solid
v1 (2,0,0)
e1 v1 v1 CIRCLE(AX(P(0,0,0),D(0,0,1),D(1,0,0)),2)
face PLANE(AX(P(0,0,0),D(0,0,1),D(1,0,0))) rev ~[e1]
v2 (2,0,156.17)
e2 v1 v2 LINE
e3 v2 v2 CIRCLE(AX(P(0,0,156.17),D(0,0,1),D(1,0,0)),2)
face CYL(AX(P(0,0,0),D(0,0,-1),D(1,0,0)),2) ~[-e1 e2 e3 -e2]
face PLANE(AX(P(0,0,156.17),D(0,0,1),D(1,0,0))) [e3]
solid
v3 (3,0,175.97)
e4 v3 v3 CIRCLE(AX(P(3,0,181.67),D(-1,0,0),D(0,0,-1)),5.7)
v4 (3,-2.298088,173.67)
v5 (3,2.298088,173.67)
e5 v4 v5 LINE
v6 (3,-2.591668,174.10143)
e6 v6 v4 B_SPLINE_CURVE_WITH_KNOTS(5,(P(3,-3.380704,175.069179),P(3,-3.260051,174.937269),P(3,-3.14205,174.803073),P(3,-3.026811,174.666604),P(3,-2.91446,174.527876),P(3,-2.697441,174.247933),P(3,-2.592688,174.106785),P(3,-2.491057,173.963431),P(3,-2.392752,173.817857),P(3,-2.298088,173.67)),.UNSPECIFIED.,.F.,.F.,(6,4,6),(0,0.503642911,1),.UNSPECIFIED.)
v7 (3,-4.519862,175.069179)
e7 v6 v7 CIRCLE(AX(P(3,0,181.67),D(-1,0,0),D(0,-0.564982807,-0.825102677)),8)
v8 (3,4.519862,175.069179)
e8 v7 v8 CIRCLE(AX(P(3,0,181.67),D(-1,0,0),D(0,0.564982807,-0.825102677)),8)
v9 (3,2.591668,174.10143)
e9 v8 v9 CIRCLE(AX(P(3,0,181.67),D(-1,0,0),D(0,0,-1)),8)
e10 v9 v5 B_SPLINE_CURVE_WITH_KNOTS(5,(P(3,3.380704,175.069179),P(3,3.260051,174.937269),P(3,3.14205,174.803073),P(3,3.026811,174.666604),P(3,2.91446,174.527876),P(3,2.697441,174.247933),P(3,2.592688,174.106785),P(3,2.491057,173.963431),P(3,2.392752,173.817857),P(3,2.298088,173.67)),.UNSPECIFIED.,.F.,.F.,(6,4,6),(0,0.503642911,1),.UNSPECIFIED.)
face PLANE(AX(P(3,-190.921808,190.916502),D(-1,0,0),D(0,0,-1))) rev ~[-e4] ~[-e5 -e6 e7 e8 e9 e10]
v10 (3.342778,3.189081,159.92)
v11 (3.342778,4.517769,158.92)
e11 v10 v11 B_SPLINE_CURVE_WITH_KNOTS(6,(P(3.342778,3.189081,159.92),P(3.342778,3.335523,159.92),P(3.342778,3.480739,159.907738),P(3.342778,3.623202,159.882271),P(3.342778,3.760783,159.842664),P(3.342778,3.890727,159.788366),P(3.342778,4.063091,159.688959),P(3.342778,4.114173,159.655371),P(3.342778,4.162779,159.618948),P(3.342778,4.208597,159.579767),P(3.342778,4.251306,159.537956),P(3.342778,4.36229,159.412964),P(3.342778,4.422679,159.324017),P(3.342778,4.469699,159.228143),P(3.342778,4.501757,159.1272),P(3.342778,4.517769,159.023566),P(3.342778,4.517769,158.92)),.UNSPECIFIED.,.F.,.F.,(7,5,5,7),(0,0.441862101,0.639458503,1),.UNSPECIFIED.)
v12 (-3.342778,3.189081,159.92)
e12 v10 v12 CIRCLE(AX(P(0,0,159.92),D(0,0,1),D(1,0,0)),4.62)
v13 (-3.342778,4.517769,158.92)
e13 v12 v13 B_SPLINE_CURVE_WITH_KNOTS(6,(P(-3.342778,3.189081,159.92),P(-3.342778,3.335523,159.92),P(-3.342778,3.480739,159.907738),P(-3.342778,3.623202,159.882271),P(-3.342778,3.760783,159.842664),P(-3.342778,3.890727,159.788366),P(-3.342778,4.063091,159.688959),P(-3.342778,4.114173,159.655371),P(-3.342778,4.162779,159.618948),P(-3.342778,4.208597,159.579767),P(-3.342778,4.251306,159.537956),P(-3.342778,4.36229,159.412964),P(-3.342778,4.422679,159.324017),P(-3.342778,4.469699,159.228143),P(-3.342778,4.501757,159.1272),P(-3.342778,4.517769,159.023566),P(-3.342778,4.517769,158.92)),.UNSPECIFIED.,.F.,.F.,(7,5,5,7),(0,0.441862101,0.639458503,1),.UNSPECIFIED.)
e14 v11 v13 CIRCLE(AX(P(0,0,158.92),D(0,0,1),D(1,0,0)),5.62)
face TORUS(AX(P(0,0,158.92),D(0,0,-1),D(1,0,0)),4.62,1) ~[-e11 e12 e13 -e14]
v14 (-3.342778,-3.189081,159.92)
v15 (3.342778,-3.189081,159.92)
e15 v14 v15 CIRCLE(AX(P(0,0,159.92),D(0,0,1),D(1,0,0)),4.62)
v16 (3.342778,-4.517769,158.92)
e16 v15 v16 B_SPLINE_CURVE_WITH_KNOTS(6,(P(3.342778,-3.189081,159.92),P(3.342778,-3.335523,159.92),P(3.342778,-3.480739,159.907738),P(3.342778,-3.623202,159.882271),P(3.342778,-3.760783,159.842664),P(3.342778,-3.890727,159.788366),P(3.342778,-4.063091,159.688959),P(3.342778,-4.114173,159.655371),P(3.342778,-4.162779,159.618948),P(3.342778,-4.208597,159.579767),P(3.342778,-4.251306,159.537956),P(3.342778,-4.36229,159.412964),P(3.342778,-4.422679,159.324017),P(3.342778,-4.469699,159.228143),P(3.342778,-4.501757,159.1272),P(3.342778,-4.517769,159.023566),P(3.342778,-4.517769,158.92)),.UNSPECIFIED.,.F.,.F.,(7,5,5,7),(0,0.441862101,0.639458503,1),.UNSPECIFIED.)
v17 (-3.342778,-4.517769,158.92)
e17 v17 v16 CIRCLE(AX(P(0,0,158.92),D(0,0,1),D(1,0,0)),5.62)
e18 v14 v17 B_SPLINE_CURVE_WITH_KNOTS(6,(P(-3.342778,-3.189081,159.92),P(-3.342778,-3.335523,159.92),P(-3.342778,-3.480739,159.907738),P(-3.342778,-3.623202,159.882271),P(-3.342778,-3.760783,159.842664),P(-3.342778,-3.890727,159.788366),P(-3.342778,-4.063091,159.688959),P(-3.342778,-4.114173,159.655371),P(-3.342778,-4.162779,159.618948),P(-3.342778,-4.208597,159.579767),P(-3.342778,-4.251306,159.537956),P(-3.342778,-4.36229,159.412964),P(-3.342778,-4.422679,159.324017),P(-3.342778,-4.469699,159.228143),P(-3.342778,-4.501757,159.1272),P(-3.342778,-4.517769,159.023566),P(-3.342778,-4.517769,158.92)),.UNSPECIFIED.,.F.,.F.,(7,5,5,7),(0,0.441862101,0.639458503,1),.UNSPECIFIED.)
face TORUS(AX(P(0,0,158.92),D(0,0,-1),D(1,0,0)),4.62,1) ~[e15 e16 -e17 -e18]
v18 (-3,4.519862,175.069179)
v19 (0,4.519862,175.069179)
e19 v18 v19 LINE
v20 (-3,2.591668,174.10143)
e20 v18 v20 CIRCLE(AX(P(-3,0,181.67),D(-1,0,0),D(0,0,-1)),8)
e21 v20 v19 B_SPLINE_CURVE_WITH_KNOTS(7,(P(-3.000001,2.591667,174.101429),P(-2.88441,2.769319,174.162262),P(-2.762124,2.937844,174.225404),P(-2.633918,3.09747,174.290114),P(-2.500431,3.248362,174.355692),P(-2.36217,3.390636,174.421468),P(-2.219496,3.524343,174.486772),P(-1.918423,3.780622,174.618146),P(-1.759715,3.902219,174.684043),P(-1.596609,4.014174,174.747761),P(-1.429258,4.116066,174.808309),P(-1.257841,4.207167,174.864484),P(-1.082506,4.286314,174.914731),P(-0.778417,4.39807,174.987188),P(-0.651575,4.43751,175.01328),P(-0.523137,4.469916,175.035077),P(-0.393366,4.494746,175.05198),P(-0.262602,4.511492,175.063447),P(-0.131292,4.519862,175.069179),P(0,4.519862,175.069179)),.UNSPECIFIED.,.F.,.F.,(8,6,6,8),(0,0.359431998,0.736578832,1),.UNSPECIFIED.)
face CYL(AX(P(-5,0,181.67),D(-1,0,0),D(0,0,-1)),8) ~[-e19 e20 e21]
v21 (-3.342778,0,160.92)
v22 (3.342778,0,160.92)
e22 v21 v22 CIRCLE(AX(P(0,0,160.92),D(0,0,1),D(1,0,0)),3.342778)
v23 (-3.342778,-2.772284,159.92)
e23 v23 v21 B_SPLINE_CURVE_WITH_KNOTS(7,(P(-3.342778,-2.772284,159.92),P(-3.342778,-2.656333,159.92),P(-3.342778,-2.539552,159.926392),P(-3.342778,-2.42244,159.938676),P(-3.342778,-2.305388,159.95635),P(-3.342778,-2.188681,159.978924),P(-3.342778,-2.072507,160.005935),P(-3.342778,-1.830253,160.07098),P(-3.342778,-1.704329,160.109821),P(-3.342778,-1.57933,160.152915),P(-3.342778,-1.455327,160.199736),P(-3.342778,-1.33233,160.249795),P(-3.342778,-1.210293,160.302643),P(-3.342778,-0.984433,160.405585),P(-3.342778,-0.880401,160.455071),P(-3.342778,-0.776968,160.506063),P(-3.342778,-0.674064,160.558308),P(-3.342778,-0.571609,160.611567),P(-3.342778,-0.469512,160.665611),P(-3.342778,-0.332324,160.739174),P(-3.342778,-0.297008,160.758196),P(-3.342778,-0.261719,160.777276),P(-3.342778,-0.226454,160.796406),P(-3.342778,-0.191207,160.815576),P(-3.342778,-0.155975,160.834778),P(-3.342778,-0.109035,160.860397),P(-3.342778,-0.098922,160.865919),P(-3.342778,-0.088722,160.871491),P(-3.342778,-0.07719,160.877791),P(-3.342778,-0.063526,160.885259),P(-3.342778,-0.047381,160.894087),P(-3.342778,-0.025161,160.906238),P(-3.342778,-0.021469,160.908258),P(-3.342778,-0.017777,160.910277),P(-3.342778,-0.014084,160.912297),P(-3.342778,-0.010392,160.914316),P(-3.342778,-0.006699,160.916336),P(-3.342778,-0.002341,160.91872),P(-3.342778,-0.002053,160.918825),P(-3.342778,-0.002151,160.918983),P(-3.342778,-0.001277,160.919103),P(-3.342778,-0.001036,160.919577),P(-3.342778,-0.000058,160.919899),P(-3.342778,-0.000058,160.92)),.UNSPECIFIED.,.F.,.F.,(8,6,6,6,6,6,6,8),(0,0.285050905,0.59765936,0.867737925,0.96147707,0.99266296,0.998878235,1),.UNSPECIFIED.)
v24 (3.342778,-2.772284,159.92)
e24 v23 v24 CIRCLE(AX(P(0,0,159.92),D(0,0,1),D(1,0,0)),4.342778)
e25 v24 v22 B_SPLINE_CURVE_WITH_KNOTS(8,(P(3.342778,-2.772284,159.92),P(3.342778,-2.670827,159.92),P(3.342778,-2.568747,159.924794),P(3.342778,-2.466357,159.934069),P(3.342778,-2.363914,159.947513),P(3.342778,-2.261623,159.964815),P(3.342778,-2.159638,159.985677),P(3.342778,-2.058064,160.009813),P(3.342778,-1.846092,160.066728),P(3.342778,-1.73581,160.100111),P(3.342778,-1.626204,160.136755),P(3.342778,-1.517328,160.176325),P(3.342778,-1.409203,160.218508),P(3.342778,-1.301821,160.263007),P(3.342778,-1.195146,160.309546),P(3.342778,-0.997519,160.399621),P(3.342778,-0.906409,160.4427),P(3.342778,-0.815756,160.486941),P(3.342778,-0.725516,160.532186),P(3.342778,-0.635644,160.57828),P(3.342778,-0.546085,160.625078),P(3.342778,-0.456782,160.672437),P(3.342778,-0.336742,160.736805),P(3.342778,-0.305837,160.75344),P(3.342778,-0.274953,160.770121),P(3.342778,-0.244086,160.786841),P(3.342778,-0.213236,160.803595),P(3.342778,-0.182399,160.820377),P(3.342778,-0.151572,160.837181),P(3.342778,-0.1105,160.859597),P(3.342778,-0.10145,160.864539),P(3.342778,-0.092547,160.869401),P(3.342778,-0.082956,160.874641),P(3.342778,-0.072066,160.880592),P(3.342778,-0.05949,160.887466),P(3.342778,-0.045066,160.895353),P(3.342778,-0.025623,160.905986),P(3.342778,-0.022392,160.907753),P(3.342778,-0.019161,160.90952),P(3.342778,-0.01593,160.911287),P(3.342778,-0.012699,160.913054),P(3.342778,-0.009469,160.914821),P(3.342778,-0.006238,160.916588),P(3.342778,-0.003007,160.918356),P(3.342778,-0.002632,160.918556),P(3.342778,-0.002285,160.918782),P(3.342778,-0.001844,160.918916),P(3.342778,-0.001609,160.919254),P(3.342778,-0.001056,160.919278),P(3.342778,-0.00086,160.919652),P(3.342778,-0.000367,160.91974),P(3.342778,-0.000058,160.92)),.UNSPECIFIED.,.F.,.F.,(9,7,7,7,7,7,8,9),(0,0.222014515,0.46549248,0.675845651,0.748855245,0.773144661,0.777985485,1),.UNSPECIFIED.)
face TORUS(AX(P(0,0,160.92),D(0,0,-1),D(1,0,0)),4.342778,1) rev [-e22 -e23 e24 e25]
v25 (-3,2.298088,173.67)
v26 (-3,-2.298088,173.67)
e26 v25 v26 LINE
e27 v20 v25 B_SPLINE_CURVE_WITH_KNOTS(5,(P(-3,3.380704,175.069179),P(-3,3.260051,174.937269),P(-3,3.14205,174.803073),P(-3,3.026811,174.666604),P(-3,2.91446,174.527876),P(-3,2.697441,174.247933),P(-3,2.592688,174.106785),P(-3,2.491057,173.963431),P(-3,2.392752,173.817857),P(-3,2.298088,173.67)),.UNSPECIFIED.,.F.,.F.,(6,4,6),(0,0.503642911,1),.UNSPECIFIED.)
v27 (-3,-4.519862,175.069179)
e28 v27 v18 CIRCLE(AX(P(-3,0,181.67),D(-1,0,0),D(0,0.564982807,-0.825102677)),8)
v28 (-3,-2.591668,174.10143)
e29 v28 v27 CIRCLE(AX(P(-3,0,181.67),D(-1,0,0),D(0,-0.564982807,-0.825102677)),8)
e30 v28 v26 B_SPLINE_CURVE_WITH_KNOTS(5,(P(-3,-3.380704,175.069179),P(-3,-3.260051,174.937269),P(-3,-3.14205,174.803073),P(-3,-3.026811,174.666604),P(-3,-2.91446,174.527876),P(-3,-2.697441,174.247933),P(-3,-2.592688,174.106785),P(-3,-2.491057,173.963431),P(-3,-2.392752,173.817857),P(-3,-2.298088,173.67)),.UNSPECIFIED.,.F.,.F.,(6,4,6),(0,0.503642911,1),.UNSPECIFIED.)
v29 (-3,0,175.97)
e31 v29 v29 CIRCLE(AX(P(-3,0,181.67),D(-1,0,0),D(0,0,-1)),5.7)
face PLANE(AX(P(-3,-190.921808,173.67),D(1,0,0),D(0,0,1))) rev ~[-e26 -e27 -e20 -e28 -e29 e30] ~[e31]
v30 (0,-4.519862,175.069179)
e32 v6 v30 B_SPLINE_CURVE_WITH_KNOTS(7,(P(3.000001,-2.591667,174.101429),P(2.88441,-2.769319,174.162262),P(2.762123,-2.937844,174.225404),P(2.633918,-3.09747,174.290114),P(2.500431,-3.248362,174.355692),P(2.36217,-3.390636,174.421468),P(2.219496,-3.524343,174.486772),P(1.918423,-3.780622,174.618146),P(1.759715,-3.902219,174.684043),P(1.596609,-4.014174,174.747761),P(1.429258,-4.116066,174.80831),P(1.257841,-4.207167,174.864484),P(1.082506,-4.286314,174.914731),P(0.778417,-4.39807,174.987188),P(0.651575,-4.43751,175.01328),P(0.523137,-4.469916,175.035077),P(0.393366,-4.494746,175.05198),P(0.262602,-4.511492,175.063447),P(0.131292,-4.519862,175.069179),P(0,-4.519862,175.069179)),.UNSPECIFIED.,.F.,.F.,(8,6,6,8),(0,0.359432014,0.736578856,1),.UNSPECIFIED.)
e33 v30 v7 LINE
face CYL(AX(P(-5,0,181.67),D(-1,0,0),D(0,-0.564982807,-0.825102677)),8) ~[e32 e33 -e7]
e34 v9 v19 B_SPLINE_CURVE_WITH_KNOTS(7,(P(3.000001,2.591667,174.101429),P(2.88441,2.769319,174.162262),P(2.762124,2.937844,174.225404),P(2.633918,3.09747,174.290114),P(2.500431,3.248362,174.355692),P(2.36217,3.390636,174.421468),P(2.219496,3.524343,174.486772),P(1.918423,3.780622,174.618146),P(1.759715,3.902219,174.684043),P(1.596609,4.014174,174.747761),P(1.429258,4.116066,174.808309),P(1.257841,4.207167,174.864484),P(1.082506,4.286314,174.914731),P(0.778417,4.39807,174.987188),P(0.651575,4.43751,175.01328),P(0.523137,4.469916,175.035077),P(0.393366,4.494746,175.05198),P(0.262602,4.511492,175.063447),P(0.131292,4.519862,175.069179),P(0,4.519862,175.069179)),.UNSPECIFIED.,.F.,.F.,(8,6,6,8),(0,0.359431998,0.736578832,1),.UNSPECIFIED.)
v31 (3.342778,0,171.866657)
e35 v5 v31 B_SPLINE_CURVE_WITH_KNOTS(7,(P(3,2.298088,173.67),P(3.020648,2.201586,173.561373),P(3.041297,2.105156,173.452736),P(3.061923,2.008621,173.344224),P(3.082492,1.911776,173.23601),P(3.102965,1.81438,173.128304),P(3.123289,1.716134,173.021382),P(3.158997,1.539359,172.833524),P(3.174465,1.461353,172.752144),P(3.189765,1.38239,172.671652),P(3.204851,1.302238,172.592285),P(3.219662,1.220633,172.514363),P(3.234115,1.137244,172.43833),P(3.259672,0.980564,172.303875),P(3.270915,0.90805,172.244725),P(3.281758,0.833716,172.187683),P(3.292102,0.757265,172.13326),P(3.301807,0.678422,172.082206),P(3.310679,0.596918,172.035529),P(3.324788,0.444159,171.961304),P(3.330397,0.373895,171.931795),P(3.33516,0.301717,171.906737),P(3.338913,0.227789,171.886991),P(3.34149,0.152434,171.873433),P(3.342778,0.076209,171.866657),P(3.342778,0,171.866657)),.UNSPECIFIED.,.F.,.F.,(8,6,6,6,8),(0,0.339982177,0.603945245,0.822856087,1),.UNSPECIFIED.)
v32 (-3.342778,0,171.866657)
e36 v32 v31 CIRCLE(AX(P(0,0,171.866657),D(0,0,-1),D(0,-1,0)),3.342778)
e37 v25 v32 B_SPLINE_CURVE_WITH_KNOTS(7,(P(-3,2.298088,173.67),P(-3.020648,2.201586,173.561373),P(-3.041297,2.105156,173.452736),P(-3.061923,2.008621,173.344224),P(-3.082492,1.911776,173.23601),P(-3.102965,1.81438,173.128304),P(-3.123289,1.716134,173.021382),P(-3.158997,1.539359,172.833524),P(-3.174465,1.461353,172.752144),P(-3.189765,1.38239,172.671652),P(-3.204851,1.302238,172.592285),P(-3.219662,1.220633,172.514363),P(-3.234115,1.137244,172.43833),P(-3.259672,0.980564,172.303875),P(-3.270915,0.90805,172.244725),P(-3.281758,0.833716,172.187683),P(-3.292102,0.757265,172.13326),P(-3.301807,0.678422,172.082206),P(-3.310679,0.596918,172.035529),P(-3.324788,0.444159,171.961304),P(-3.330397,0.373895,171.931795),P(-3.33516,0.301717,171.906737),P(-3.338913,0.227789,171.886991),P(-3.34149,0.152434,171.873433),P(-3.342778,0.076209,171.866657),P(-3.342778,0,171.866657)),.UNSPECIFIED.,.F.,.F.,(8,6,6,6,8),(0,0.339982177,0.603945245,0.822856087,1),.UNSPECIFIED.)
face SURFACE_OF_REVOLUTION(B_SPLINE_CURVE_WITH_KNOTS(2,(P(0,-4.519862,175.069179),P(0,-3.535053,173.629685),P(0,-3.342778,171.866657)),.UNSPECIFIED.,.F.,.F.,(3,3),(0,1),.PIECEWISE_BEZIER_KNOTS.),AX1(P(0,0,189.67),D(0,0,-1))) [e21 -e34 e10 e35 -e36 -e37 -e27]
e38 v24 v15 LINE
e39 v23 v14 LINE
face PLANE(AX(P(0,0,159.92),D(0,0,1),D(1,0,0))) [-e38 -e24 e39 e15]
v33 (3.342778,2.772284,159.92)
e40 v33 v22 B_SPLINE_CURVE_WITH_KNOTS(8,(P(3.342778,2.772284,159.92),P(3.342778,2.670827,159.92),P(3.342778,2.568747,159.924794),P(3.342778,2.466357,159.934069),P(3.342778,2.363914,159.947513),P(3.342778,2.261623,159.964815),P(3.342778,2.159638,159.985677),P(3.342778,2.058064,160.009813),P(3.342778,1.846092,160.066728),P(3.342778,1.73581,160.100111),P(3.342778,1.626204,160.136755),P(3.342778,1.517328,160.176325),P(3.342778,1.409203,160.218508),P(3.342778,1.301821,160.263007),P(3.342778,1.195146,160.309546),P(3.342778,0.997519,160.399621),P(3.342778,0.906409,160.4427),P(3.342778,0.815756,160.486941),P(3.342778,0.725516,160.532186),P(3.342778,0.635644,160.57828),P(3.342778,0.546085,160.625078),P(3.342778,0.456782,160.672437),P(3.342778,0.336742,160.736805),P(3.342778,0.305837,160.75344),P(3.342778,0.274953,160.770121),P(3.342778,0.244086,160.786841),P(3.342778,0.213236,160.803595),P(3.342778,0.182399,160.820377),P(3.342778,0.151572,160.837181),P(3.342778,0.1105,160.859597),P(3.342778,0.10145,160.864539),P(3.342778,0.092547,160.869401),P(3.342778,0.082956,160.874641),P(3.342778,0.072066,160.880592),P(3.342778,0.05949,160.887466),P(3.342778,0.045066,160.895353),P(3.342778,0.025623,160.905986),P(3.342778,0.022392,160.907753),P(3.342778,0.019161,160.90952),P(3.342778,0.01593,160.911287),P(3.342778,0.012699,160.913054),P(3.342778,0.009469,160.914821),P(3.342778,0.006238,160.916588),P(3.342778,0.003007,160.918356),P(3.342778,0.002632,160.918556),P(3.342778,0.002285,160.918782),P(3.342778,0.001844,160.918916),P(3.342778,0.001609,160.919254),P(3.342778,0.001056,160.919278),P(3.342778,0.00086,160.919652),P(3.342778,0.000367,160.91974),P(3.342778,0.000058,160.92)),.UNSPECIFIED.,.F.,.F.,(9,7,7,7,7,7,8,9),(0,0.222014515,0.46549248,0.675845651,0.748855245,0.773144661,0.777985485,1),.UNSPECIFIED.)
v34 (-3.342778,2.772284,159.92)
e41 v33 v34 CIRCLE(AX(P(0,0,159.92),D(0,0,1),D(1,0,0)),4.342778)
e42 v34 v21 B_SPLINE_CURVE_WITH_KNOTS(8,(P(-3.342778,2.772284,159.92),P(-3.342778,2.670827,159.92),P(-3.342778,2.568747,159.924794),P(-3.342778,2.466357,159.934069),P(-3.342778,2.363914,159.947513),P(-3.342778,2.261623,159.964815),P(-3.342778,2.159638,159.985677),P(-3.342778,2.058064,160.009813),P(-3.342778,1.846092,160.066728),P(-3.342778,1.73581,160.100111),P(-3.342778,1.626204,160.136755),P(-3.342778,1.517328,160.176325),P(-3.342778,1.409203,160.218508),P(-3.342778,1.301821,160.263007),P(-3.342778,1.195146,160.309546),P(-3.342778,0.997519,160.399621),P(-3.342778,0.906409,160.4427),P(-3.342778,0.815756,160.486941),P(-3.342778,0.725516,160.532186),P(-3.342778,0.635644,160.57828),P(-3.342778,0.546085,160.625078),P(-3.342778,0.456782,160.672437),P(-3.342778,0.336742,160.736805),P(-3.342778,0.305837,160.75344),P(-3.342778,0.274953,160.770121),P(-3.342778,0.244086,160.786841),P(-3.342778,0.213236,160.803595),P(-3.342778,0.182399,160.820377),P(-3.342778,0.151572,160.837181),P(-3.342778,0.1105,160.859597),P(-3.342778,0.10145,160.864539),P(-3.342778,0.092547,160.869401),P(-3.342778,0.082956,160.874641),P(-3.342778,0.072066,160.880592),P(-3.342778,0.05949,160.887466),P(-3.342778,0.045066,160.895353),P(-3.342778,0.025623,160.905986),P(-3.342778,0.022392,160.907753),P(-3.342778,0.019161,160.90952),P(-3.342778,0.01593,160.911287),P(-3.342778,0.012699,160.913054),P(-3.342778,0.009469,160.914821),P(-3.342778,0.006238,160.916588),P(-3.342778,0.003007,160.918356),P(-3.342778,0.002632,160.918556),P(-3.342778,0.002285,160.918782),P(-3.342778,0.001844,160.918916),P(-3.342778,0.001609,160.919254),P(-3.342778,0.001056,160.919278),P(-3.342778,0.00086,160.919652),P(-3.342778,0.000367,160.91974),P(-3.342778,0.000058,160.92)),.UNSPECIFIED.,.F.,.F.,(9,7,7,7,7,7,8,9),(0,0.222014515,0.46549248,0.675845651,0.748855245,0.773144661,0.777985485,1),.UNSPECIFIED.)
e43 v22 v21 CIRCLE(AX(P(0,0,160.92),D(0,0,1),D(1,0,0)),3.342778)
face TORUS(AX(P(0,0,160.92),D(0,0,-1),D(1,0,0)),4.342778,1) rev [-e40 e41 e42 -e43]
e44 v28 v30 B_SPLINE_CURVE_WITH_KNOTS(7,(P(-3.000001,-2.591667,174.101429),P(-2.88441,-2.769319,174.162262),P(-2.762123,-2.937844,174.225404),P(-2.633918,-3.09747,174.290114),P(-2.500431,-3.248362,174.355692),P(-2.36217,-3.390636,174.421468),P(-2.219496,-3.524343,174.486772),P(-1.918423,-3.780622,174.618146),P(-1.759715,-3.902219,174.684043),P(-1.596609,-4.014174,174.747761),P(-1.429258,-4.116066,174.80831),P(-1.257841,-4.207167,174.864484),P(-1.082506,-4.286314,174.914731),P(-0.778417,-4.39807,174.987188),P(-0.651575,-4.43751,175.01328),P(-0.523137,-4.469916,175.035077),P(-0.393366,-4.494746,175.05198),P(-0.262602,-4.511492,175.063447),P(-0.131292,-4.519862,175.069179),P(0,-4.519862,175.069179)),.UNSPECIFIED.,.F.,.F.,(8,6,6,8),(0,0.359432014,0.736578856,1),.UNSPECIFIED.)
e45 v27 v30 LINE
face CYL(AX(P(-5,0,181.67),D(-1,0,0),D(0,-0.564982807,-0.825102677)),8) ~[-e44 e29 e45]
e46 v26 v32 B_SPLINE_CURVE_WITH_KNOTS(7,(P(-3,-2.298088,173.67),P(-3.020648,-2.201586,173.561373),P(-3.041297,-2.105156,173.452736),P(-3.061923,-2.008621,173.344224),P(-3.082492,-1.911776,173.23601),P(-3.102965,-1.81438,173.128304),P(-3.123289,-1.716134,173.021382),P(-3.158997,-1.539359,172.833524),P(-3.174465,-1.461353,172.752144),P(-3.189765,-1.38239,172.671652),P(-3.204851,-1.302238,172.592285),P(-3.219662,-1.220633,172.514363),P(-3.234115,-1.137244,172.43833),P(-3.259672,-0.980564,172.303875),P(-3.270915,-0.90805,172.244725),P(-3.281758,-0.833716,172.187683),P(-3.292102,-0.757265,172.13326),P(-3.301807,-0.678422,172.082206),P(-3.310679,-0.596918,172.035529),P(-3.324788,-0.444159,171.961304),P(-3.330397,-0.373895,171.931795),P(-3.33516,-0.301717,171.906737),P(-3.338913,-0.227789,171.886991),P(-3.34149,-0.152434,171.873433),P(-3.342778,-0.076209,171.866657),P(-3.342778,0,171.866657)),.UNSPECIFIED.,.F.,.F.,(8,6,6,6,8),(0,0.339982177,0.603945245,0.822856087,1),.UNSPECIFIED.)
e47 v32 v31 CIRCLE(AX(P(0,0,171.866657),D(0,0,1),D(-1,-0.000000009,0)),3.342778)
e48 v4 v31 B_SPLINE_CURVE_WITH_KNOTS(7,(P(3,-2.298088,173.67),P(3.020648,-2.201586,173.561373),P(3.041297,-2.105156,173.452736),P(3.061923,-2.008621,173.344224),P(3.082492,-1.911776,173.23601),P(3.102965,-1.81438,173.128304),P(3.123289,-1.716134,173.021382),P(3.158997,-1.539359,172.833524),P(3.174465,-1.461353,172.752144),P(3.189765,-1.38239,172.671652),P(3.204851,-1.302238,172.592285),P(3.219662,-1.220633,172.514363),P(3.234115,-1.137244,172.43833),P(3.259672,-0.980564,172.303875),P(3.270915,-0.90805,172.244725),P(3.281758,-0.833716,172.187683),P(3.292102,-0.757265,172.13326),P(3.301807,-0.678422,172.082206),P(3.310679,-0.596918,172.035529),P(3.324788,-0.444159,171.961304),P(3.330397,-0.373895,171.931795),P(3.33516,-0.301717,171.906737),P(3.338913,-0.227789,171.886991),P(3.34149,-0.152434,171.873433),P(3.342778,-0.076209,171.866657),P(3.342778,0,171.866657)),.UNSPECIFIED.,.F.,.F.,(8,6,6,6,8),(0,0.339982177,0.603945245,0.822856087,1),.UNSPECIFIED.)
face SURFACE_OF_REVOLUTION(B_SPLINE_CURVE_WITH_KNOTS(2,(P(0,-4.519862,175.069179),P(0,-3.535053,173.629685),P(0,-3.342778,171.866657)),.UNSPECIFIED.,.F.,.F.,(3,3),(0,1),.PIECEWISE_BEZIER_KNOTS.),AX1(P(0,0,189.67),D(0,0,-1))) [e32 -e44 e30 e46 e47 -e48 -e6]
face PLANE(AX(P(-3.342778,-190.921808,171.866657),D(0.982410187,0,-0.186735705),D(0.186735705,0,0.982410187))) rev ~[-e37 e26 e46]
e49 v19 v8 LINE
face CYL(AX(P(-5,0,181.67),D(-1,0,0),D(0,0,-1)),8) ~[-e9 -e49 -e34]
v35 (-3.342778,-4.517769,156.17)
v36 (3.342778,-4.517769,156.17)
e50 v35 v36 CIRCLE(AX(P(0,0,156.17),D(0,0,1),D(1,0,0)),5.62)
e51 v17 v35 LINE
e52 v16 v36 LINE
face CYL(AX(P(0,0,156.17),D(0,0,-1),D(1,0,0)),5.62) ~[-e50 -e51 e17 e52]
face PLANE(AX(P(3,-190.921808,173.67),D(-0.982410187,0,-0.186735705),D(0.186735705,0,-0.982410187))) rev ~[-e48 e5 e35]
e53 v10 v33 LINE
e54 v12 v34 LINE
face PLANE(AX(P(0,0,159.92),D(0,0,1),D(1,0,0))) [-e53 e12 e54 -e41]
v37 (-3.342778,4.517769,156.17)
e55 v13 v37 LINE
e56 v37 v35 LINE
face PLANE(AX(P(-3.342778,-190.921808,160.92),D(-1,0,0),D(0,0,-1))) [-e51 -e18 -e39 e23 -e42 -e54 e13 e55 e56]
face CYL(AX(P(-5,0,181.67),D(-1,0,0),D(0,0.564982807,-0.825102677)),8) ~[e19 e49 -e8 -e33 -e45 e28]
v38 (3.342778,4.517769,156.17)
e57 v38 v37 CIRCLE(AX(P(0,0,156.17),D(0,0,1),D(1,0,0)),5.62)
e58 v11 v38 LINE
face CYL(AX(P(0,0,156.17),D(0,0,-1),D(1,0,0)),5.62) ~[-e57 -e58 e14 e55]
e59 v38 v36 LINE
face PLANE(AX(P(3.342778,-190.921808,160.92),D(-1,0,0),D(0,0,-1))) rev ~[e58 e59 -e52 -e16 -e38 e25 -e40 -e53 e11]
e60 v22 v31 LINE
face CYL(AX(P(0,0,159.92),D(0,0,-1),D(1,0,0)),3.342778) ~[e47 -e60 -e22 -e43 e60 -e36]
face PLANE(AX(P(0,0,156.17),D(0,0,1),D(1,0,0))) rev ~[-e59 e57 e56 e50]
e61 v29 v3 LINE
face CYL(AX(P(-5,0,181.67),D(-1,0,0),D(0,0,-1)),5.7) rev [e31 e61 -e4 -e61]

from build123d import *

# Parameters (mm, degrees)
SKETCH1_R                = 2
BOSS_EXTRUDE1_DEPTH      = 156.17
SKETCH2_R                = 5.62
BOSS_EXTRUDE2_DEPTH      = 3.75
SKETCH3_R                = 3.342777959
BOSS_EXTRUDE3_DEPTH      = 14.75
FILLET4_R                = 1
FILLET5_R                = 1
BOSS_EXTRUDE4_DEPTH      = 5
BOSS_EXTRUDE4_DEPTH_BACK = 5
SKETCH4_R                = 5.7
CUT_EXTRUDE2_DEPTH       = 190.921808488
CUT_EXTRUDE2_DEPTH_BACK  = 190.921808488
SKETCH7_W                = 5.315591211
SKETCH7_H                = 6.235782502


with BuildPart() as part:
    # Sketch1 → Boss-Extrude1 (new body)
    with BuildSketch(Plane.XY):
        Circle(SKETCH1_R)
    extrude(amount=BOSS_EXTRUDE1_DEPTH)


with BuildPart() as body_2:
    # Sketch2 → Boss-Extrude2 (new body)
    with BuildSketch(Plane.XY.offset(156.17)):
        Circle(SKETCH2_R)
    extrude(amount=BOSS_EXTRUDE2_DEPTH)

    # Sketch3 → Boss-Extrude3 (add)
    with BuildSketch(Plane.XY.offset(159.92)):
        Circle(SKETCH3_R)
    extrude(amount=BOSS_EXTRUDE3_DEPTH)

    # Fillet4
    fillet4_edges = [body_2.edges().sort_by_distance(p)[0] for p in [
        (-3.342777959, 0, 159.92),
    ]]
    fillet(fillet4_edges, radius=FILLET4_R)

    # Fillet5
    fillet5_edges = [body_2.edges().sort_by_distance(p)[0] for p in [
        (-5.62, 0, 159.92),
    ]]
    fillet(fillet5_edges, radius=FILLET5_R)

    # Sketch4 → Boss-Extrude4 (add, two sides: drawn at the far end of the back side and taken through both)
    with BuildSketch(Plane(origin=(0, 0, 0), x_dir=(0, 0, -1), z_dir=(1, 0, 0)).offset(-BOSS_EXTRUDE4_DEPTH_BACK)):
        with BuildLine():
            ThreePointArc((-173.67, 0), (-174.027795759, 2.365737588), (-175.069178584, 4.519862457))
            ThreePointArc((-175.069178584, 4.519862457), (-189.67, 0), (-175.069178584, -4.519862457))
            ThreePointArc((-175.069178584, -4.519862457), (-174.027795759, -2.365737588), (-173.67, 0))
        make_face()
        with Locations((-181.67, 0)):
            Circle(SKETCH4_R, mode=Mode.SUBTRACT)
    extrude(amount=BOSS_EXTRUDE4_DEPTH + BOSS_EXTRUDE4_DEPTH_BACK)


with BuildPart() as body_3:
    # Sketch4<4> → Revolve2 (revolve)
    with BuildSketch(Plane(origin=(0, 0, 0), x_dir=(0, 0, -1), z_dir=(1, 0, 0))):
        with BuildLine():
            Line((-171.86665682, 0), (-173.67, 0))
            ThreePointArc((-173.67, 0), (-174.027795759, -2.365737588), (-175.069178584, -4.519862457))
            add(Edge.make_bspline(
                [(-175.069178584, -4.519862457), (-173.629685325, -3.535053024), (-171.86665682, -3.342777959)],
                knots=[0, 0, 0, 1, 1, 1], degree=2))
            Line((-171.86665682, -3.342777959), (-171.86665682, 0))
        make_face()
    revolve(axis=Axis((0, 0, 189.67), (0, 0, -1)))


with BuildPart() as cut_extrude2_tool:
    # Sketch7 → Cut-Extrude2 (new, two sides: drawn at the far end of the back side and taken through both)
    with BuildSketch(Plane(origin=(0, 0, 0), x_dir=(1, 0, 0), z_dir=(0, 1, 0)).offset(-CUT_EXTRUDE2_DEPTH_BACK)):
        Polygon((3, -173.67), (3.34277796, -171.86665682), (8.65836917, -171.86665682), (8.65836917, -190.916502477), (3, -190.916502477), align=None)
        Polygon((-3, -190.916502477), (-8.65836917, -190.916502477), (-8.65836917, -171.86665682), (-3.34277796, -171.86665682), (-3, -173.67), align=None)
        with Locations((-6.000573564, -157.802108749)):
            Rectangle(SKETCH7_W, SKETCH7_H)
        with Locations((6.000573564, -157.802108749)):
            Rectangle(SKETCH7_W, SKETCH7_H)
    extrude(amount=CUT_EXTRUDE2_DEPTH + CUT_EXTRUDE2_DEPTH_BACK)


with BuildPart() as body_2_1:
    add(body_2.part)

    # Cut-Extrude2: cut by cut_extrude2_tool
    add(cut_extrude2_tool.part, mode=Mode.SUBTRACT)


with BuildPart() as body_3_1:
    add(body_3.part)

    # Cut-Extrude2: cut by cut_extrude2_tool
    add(cut_extrude2_tool.part, mode=Mode.SUBTRACT)


with BuildPart() as body_2_2:
    add(body_2_1.part)

    # Combine1: union body 3
    add(body_3_1.part)


solid = Compound([part.part, body_2_2.part])
